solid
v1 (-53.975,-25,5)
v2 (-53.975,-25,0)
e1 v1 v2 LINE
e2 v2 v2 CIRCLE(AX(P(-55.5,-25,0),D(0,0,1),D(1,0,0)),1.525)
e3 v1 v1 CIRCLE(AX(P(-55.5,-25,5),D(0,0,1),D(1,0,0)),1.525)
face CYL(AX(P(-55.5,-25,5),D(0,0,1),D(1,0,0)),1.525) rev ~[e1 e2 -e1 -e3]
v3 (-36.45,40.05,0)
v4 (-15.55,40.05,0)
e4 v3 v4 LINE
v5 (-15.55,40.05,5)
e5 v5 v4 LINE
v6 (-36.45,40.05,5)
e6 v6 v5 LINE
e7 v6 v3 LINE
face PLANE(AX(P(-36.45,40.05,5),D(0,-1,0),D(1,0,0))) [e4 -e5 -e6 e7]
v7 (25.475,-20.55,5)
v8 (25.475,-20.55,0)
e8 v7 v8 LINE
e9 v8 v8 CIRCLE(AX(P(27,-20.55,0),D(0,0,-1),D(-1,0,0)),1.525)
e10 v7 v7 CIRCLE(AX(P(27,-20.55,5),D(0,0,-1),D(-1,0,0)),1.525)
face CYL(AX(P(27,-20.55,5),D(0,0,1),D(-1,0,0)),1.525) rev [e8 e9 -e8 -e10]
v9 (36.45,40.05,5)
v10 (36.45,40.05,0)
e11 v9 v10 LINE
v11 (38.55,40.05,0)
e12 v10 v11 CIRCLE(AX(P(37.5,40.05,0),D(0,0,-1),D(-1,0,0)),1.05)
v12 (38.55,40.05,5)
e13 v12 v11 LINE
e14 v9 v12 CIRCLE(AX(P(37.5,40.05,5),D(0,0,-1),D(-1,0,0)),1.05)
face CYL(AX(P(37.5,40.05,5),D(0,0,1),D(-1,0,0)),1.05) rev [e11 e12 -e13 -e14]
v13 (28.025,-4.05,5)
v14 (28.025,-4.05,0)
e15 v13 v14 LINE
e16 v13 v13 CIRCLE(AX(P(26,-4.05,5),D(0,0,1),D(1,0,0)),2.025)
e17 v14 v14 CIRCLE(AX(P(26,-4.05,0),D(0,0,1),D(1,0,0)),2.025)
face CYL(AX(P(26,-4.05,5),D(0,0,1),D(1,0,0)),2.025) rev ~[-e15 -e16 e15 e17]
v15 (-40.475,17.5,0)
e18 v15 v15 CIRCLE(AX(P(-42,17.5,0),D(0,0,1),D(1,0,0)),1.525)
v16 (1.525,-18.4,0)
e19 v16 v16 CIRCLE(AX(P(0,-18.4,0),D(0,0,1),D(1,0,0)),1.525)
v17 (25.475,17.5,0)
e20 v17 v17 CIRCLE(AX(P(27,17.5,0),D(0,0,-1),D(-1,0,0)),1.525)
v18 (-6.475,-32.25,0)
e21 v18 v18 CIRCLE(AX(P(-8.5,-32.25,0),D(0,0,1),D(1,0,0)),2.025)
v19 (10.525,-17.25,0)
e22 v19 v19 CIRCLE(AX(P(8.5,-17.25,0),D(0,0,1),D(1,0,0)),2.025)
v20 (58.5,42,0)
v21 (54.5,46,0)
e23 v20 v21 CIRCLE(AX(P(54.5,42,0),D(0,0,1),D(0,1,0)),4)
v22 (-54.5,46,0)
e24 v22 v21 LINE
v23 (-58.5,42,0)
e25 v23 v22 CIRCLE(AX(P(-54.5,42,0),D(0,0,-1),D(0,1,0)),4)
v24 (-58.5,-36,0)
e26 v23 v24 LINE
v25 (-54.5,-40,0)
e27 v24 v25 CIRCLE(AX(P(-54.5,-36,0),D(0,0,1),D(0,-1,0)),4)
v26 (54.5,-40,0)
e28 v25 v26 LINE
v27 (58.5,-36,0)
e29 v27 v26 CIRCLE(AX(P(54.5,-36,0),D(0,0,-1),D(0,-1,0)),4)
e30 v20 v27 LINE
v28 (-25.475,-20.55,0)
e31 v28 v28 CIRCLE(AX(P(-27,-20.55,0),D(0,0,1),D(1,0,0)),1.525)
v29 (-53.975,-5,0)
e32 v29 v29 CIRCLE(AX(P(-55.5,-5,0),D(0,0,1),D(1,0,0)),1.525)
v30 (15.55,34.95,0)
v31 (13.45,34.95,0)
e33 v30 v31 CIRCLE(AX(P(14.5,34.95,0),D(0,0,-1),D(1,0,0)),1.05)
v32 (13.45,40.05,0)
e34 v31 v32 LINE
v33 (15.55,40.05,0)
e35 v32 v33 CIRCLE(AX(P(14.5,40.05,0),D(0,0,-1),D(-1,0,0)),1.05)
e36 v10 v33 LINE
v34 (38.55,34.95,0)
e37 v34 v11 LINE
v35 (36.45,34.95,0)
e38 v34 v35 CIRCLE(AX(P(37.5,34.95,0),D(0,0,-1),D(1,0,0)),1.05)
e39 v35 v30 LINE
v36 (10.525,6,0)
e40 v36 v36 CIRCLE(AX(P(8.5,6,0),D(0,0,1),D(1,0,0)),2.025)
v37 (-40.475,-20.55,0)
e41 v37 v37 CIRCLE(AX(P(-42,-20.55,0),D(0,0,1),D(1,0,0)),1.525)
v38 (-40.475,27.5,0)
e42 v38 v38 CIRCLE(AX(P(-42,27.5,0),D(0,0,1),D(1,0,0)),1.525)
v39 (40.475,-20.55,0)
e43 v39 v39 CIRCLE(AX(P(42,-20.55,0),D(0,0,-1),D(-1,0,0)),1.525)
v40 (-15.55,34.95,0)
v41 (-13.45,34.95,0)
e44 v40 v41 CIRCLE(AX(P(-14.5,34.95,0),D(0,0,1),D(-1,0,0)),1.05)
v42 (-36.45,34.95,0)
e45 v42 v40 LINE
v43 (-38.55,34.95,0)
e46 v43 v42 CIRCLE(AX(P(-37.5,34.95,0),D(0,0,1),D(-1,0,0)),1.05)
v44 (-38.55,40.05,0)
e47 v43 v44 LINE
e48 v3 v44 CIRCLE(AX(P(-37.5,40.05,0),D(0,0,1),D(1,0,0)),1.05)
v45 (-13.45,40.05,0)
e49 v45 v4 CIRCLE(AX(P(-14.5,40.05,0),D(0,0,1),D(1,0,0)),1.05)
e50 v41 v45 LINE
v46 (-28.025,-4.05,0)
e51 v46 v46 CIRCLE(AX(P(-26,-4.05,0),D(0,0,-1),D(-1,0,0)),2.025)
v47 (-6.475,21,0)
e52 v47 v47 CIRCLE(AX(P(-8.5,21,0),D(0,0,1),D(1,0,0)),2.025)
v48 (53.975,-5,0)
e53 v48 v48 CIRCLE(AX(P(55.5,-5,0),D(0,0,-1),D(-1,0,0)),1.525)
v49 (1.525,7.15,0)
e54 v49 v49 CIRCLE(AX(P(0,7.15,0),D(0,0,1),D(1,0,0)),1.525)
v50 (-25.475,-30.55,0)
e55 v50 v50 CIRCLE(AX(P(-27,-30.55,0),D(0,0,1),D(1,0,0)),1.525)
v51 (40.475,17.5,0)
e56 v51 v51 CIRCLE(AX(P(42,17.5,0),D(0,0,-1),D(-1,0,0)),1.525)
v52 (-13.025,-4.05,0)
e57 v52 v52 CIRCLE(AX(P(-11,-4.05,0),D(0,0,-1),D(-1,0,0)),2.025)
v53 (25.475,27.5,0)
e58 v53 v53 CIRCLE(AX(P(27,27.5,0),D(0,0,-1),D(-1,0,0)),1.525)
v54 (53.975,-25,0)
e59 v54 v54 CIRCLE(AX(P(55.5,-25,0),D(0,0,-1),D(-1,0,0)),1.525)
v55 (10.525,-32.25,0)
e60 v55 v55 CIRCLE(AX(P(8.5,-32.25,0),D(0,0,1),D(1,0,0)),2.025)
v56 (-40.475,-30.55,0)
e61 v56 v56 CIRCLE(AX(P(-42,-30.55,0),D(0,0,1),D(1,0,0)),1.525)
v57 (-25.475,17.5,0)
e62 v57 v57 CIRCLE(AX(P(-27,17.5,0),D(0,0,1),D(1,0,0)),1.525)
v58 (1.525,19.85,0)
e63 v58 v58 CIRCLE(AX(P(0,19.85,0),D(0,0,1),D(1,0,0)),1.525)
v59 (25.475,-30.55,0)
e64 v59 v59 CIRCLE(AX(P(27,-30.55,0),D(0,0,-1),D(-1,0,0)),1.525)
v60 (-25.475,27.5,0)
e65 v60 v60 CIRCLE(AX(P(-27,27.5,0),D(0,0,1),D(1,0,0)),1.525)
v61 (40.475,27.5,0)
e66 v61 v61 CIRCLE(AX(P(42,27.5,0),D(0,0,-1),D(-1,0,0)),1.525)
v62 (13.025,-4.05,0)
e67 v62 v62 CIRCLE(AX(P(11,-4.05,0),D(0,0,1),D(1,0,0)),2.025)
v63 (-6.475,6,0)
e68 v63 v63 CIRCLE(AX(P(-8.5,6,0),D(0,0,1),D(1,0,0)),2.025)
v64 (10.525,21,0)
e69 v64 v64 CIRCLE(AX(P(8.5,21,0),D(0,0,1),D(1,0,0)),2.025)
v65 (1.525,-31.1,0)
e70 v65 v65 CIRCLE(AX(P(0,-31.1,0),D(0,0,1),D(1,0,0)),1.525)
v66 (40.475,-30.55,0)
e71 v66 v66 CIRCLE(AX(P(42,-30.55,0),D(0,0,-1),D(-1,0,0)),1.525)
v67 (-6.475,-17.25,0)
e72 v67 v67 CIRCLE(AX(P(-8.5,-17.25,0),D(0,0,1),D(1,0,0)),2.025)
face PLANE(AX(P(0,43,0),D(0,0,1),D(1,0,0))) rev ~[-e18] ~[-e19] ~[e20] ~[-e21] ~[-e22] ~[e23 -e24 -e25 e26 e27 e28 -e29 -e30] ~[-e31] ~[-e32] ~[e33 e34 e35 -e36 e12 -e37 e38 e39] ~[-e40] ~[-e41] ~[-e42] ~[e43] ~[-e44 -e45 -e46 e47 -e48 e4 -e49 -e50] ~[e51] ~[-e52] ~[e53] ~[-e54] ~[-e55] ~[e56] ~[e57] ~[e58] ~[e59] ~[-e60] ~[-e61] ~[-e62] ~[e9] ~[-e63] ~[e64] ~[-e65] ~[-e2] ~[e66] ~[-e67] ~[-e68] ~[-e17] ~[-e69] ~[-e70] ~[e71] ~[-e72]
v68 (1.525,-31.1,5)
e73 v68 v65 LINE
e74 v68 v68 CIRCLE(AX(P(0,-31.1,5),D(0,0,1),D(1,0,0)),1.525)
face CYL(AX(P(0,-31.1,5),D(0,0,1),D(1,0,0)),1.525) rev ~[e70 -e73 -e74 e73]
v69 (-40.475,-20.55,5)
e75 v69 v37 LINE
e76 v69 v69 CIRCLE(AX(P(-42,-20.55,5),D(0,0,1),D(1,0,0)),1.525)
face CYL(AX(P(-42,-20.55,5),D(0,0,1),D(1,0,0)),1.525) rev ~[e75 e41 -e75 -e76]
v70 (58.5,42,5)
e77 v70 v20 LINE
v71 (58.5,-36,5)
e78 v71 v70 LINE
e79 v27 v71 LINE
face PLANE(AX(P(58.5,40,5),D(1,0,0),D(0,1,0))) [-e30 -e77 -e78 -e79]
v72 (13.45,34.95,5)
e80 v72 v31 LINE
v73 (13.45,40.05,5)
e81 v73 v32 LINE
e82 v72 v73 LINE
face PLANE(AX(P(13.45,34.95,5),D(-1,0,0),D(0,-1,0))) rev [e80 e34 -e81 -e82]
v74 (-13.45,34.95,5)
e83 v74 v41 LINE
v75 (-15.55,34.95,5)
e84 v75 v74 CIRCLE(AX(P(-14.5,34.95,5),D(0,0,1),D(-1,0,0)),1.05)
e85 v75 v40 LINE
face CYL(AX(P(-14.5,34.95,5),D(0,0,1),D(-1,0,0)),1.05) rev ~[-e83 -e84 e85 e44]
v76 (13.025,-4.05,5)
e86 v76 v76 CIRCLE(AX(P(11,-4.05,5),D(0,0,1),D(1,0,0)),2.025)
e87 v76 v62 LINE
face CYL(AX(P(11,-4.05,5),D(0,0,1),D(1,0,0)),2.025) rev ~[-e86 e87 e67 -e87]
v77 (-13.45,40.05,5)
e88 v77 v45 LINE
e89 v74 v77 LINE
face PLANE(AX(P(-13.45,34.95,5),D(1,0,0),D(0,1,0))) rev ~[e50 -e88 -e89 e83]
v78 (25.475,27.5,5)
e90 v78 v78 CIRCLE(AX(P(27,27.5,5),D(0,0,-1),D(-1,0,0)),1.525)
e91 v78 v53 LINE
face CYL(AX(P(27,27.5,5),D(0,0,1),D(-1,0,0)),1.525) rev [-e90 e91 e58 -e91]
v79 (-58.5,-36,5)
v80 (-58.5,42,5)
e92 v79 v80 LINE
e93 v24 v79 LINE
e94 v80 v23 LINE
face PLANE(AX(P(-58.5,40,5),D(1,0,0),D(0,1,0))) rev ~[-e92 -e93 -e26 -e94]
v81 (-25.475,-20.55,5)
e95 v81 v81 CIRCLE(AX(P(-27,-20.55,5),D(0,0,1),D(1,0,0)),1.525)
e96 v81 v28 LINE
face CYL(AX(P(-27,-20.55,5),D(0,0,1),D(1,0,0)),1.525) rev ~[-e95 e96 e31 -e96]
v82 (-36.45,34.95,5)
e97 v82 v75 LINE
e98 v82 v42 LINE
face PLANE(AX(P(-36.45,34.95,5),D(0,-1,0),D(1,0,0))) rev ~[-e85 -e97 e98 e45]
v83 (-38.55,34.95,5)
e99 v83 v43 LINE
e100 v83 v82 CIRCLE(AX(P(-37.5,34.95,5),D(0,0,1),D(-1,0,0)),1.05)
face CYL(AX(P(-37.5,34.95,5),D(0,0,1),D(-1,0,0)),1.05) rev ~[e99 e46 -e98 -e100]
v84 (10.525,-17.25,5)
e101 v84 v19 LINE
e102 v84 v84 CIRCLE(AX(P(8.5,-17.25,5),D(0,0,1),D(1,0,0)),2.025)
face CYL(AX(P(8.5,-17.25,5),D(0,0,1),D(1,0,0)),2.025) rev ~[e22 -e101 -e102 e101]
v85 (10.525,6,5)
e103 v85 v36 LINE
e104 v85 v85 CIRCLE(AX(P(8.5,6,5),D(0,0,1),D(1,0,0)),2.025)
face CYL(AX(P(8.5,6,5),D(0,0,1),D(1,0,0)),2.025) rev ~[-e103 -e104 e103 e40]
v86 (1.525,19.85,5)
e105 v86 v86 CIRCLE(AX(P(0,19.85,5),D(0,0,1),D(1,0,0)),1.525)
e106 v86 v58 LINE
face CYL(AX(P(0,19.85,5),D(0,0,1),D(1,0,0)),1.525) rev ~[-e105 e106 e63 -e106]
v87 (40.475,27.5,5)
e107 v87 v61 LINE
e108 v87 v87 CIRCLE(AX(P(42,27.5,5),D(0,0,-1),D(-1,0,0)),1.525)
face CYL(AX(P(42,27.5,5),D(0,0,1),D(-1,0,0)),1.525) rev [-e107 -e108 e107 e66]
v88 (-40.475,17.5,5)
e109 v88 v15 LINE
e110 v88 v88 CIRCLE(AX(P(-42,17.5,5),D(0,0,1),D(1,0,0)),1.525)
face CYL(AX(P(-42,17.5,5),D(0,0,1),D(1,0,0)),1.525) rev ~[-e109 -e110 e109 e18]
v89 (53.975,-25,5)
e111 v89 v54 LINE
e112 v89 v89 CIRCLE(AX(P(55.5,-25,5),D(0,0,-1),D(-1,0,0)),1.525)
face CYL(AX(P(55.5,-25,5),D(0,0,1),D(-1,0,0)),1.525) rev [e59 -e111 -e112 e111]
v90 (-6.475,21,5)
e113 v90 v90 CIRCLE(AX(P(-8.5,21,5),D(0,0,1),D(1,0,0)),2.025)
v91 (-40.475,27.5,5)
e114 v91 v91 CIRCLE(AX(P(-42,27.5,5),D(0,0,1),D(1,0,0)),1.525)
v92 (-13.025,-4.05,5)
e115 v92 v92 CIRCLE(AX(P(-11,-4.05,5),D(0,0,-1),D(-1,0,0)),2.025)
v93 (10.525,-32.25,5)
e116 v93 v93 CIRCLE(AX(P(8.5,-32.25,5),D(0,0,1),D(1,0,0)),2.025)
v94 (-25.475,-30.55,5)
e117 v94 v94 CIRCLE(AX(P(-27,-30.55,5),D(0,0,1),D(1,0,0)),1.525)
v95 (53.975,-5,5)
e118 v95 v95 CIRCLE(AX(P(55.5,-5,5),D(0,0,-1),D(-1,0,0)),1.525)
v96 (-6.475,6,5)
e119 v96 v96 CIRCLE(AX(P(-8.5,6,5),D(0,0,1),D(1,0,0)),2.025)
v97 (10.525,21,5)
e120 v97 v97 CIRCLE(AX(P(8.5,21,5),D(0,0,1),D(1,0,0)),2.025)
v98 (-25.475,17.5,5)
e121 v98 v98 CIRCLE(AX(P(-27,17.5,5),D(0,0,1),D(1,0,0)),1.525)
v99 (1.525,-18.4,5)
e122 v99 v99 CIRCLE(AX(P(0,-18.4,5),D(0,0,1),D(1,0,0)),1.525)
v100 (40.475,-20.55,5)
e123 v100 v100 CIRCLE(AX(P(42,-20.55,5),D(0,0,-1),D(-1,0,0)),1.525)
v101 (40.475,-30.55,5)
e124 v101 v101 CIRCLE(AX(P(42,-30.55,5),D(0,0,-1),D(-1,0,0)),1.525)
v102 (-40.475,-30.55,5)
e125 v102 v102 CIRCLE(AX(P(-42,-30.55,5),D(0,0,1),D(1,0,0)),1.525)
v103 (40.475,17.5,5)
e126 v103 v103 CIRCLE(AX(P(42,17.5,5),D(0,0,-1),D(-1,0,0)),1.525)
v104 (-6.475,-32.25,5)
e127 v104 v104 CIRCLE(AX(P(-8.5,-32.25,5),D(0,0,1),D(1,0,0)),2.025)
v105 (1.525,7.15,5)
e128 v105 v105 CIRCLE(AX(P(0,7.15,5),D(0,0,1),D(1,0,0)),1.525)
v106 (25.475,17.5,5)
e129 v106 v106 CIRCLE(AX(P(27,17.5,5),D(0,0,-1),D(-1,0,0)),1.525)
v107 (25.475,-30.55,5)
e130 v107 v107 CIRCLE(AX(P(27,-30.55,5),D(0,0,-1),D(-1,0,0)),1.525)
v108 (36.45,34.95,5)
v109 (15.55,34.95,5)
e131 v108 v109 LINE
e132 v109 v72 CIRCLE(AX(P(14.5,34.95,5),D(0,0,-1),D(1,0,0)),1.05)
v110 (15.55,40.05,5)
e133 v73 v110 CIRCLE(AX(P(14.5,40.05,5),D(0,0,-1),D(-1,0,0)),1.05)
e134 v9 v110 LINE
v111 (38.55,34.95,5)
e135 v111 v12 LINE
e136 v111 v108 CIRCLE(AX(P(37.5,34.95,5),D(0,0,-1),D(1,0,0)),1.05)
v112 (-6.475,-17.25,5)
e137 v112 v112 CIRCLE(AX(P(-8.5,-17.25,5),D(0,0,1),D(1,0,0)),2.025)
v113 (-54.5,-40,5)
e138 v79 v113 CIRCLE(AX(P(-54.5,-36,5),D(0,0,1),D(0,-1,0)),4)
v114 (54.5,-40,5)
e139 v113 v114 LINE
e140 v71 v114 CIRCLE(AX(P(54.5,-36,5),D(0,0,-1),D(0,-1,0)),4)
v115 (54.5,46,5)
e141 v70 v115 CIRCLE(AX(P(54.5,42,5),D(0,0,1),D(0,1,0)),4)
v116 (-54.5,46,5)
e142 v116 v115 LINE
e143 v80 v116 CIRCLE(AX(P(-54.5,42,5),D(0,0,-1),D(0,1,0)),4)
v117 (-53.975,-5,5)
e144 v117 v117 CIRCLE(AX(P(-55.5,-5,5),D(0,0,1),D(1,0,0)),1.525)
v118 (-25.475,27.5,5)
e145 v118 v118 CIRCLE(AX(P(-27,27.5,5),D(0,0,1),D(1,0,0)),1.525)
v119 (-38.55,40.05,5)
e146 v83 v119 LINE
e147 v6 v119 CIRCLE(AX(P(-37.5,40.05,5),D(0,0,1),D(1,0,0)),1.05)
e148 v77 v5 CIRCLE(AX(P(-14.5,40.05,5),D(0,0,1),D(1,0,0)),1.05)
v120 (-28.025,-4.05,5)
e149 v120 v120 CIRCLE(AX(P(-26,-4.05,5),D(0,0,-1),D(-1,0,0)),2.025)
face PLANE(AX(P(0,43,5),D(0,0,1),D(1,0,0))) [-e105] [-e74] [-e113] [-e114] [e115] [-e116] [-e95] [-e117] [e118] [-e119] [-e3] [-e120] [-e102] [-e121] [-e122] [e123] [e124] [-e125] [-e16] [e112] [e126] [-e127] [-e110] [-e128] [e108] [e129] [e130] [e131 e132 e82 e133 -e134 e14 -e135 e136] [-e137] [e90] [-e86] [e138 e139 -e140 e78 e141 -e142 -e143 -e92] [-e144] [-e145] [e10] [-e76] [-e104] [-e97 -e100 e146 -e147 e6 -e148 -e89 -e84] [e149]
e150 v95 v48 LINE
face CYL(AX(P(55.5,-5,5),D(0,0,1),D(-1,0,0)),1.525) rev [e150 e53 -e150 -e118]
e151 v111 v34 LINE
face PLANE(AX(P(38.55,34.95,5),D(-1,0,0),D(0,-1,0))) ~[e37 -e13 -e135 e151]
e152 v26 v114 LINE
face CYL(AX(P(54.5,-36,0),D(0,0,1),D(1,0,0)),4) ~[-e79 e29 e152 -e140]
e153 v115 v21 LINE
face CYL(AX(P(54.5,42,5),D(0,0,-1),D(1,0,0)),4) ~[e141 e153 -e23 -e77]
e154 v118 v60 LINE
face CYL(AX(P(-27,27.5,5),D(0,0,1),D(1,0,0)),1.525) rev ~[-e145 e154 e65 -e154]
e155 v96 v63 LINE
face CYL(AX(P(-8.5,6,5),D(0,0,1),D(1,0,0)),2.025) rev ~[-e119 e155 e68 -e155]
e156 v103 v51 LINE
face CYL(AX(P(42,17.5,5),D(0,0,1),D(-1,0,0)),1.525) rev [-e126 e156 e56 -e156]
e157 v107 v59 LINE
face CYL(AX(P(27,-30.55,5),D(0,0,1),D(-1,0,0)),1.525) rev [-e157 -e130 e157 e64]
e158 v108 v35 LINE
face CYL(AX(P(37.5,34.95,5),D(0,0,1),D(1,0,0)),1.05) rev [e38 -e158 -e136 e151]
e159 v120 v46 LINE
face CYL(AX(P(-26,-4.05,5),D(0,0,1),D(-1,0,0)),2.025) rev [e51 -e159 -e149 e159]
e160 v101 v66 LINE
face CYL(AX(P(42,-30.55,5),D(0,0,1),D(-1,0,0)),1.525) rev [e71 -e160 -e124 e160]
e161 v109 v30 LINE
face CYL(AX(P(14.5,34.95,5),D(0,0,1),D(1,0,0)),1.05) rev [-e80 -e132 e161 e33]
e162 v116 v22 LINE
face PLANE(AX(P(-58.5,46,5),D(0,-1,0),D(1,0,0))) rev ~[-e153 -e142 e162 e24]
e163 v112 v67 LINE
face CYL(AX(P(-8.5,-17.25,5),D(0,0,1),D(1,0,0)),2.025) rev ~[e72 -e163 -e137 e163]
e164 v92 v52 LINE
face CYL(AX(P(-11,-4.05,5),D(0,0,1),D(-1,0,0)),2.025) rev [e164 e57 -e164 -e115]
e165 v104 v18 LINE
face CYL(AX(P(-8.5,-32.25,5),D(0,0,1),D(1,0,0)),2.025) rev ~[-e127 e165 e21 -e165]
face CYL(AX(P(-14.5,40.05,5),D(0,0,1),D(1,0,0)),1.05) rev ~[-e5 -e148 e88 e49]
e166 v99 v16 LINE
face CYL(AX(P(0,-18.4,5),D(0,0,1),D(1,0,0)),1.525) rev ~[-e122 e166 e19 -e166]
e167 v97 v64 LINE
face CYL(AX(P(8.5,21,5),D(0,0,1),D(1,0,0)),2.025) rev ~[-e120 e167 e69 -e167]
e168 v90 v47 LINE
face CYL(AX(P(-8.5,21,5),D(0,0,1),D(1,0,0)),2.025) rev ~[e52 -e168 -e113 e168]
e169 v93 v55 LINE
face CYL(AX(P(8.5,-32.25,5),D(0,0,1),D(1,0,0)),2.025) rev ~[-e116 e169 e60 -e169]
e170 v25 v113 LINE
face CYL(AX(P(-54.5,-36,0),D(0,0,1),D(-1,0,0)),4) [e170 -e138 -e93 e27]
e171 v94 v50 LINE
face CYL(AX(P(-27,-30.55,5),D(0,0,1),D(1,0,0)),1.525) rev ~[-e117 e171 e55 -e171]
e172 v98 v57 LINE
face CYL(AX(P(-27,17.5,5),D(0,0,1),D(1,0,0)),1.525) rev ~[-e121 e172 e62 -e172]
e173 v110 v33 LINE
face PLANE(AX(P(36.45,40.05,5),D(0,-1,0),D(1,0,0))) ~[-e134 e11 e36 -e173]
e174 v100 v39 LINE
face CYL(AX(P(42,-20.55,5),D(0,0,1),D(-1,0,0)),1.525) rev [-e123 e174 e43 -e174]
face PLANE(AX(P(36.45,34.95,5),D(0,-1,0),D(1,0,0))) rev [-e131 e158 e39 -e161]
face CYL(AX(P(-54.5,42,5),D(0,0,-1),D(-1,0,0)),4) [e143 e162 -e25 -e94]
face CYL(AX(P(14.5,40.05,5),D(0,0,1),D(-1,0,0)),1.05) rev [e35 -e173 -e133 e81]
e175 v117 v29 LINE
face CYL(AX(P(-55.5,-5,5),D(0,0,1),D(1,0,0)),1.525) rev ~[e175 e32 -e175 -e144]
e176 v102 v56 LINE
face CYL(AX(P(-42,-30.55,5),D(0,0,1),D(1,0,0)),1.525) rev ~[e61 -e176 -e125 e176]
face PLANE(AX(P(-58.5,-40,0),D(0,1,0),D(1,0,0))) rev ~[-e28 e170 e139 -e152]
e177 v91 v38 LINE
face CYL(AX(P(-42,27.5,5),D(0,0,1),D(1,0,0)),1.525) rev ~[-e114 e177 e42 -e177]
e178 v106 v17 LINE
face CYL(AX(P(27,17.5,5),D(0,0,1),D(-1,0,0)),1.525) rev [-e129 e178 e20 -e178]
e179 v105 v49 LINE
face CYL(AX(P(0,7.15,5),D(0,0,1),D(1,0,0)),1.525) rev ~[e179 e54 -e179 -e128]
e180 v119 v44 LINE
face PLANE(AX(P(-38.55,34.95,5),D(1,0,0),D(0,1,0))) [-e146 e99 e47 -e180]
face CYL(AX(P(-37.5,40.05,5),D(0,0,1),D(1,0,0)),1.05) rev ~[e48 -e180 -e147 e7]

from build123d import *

# Parameters (mm, degrees)
SKETCH_1_W          = 117
SKETCH_1_H          = 80
EXTRUDE_1_DEPTH     = 5
SKETCH_2_R          = 1.525
CUT_EXTRUDE_1_DEPTH = 5
SKETCH_3_R          = 2.025
CUT_EXTRUDE_2_DEPTH = 5
SKETCH_4_R          = 2.025
CUT_EXTRUDE_3_DEPTH = 5
SKETCH_5_R          = 1.525
CUT_EXTRUDE_4_DEPTH = 5
SKETCH_6_R          = 1.525
CUT_EXTRUDE_5_DEPTH = 5
SKETCH_7_R          = 2.024999998
CUT_EXTRUDE_6_DEPTH = 5
SKETCH_9_W          = 117
SKETCH_9_H          = 6
EXTRUDE_2_DEPTH     = 5
FILLET_2_R          = 4
SKETCH_10_W         = 2.1
SKETCH_10_H         = 5.1
SKETCH_10_W_2       = 20.9
CUT_EXTRUDE_7_DEPTH = 5


with BuildPart() as part:
    # 草图1 → 凸台-拉伸1 (new body)
    with BuildSketch(Plane.XY):
        Rectangle(SKETCH_1_W, SKETCH_1_H)
    extrude(amount=EXTRUDE_1_DEPTH)

    # 草图2 → 切除-拉伸1 (cut)
    with BuildSketch(Plane.XY.offset(5)):
        with Locations((-27, -20.55)):
            Circle(SKETCH_2_R)
        with Locations((-42, -20.55)):
            Circle(SKETCH_2_R)
        with Locations((-42, -30.55)):
            Circle(SKETCH_2_R)
        with Locations((-27, -30.55)):
            Circle(SKETCH_2_R)
        with Locations((-42, 27.5)):
            Circle(SKETCH_2_R)
        with Locations((-42, 17.5)):
            Circle(SKETCH_2_R)
        with Locations((-27, 27.5)):
            Circle(SKETCH_2_R)
        with Locations((-27, 17.5)):
            Circle(SKETCH_2_R)
    cut_extrude_1 = extrude(amount=-CUT_EXTRUDE_1_DEPTH, mode=Mode.SUBTRACT)

    # 镜向1: 切除-拉伸1 across plane
    add(cut_extrude_1.mirror(Plane(origin=(0, 0, 0), x_dir=(0, 0, 1), z_dir=(1, 0, 0))), mode=Mode.SUBTRACT)

    # 草图3 → 切除-拉伸2 (cut)
    with BuildSketch(Plane.XY.offset(5)):
        with Locations((-8.5, 21)):
            Circle(SKETCH_3_R)
        with Locations((8.5, 21)):
            Circle(SKETCH_3_R)
        with Locations((8.5, 6)):
            Circle(SKETCH_3_R)
        with Locations((-8.5, 6)):
            Circle(SKETCH_3_R)
    extrude(amount=-CUT_EXTRUDE_2_DEPTH, mode=Mode.SUBTRACT)

    # 草图4 → 切除-拉伸3 (cut)
    with BuildSketch(Plane.XY.offset(5)):
        with Locations((8.5, -17.25)):
            Circle(SKETCH_4_R)
        with Locations((8.5, -32.25)):
            Circle(SKETCH_4_R)
        with Locations((-8.5, -32.25)):
            Circle(SKETCH_4_R)
        with Locations((-8.5, -17.25)):
            Circle(SKETCH_4_R)
    extrude(amount=-CUT_EXTRUDE_3_DEPTH, mode=Mode.SUBTRACT)

    # 草图5 → 切除-拉伸4 (cut)
    with BuildSketch(Plane.XY.offset(5)):
        with Locations((-55.5, -5)):
            Circle(SKETCH_5_R)
        with Locations((-55.5, -25)):
            Circle(SKETCH_5_R)
    cut_extrude_4 = extrude(amount=-CUT_EXTRUDE_4_DEPTH, mode=Mode.SUBTRACT)

    # 镜向2: 切除-拉伸4 across plane
    add(cut_extrude_4.mirror(Plane(origin=(0, 0, 0), x_dir=(0, 0, 1), z_dir=(1, 0, 0))), mode=Mode.SUBTRACT)

    # 草图6 → 切除-拉伸5 (cut)
    with BuildSketch(Plane.XY.offset(5)):
        with Locations((0, 19.85)):
            Circle(SKETCH_6_R)
        with Locations((0, 7.15)):
            Circle(SKETCH_6_R)
        with Locations((0, -18.4)):
            Circle(SKETCH_6_R)
        with Locations((0, -31.1)):
            Circle(SKETCH_6_R)
    extrude(amount=-CUT_EXTRUDE_5_DEPTH, mode=Mode.SUBTRACT)

    # 草图7 → 切除-拉伸6 (cut)
    with BuildSketch(Plane.XY.offset(5)):
        with Locations((26, -4.049999992)):
            Circle(SKETCH_7_R)
        with Locations((11, -4.049999992)):
            Circle(SKETCH_7_R)
    cut_extrude_6 = extrude(amount=-CUT_EXTRUDE_6_DEPTH, mode=Mode.SUBTRACT)

    # 镜向4: 切除-拉伸6 across plane
    add(cut_extrude_6.mirror(Plane(origin=(0, 0, 0), x_dir=(0, 0, 1), z_dir=(1, 0, 0))), mode=Mode.SUBTRACT)

    # 草图9 → 凸台-拉伸2 (add)
    with BuildSketch(Plane.XY.offset(5)):
        with Locations((0, 43)):
            Rectangle(SKETCH_9_W, SKETCH_9_H)
    extrude(amount=-EXTRUDE_2_DEPTH)

    # 圆角2
    fillet_2_edges = [part.edges().sort_by_distance(p)[0] for p in [
        (58.5, 46, 2.5),
        (-58.5, 46, 2.5),
        (58.5, -40, 2.5),
        (-58.5, -40, 2.5),
    ]]
    fillet(fillet_2_edges, radius=FILLET_2_R)

    # 草图10 → 切除-拉伸7 (cut)
    with BuildSketch(Plane.XY.offset(5)):
        with BuildLine():
            ThreePointArc((-36.45, 40.05), (-37.5, 41.1), (-38.55, 40.05))
            Line((-38.55, 40.05), (-36.45, 40.05))
        make_face()
        with Locations((-37.5, 37.5)):
            Rectangle(SKETCH_10_W, SKETCH_10_H)
        with Locations((-26, 37.5)):
            Rectangle(SKETCH_10_W_2, SKETCH_10_H)
        with BuildLine():
            Line((-36.45, 34.95), (-38.55, 34.95))
            ThreePointArc((-38.55, 34.95), (-37.5, 33.9), (-36.45, 34.95))
        make_face()
        with BuildLine():
            ThreePointArc((-13.45, 40.05), (-14.5, 41.1), (-15.55, 40.05))
            Line((-15.55, 40.05), (-13.45, 40.05))
        make_face()
        with Locations((-14.5, 37.5)):
            Rectangle(SKETCH_10_W, SKETCH_10_H)
        with BuildLine():
            Line((-13.45, 34.95), (-15.55, 34.95))
            ThreePointArc((-15.55, 34.95), (-14.5, 33.9), (-13.45, 34.95))
        make_face()
    cut_extrude_7 = extrude(amount=-CUT_EXTRUDE_7_DEPTH, mode=Mode.SUBTRACT)

    # 镜向5: 切除-拉伸7 across plane
    add(cut_extrude_7.mirror(Plane(origin=(0, 0, 0), x_dir=(0, 0, 1), z_dir=(1, 0, 0))), mode=Mode.SUBTRACT)


solid = part.part
